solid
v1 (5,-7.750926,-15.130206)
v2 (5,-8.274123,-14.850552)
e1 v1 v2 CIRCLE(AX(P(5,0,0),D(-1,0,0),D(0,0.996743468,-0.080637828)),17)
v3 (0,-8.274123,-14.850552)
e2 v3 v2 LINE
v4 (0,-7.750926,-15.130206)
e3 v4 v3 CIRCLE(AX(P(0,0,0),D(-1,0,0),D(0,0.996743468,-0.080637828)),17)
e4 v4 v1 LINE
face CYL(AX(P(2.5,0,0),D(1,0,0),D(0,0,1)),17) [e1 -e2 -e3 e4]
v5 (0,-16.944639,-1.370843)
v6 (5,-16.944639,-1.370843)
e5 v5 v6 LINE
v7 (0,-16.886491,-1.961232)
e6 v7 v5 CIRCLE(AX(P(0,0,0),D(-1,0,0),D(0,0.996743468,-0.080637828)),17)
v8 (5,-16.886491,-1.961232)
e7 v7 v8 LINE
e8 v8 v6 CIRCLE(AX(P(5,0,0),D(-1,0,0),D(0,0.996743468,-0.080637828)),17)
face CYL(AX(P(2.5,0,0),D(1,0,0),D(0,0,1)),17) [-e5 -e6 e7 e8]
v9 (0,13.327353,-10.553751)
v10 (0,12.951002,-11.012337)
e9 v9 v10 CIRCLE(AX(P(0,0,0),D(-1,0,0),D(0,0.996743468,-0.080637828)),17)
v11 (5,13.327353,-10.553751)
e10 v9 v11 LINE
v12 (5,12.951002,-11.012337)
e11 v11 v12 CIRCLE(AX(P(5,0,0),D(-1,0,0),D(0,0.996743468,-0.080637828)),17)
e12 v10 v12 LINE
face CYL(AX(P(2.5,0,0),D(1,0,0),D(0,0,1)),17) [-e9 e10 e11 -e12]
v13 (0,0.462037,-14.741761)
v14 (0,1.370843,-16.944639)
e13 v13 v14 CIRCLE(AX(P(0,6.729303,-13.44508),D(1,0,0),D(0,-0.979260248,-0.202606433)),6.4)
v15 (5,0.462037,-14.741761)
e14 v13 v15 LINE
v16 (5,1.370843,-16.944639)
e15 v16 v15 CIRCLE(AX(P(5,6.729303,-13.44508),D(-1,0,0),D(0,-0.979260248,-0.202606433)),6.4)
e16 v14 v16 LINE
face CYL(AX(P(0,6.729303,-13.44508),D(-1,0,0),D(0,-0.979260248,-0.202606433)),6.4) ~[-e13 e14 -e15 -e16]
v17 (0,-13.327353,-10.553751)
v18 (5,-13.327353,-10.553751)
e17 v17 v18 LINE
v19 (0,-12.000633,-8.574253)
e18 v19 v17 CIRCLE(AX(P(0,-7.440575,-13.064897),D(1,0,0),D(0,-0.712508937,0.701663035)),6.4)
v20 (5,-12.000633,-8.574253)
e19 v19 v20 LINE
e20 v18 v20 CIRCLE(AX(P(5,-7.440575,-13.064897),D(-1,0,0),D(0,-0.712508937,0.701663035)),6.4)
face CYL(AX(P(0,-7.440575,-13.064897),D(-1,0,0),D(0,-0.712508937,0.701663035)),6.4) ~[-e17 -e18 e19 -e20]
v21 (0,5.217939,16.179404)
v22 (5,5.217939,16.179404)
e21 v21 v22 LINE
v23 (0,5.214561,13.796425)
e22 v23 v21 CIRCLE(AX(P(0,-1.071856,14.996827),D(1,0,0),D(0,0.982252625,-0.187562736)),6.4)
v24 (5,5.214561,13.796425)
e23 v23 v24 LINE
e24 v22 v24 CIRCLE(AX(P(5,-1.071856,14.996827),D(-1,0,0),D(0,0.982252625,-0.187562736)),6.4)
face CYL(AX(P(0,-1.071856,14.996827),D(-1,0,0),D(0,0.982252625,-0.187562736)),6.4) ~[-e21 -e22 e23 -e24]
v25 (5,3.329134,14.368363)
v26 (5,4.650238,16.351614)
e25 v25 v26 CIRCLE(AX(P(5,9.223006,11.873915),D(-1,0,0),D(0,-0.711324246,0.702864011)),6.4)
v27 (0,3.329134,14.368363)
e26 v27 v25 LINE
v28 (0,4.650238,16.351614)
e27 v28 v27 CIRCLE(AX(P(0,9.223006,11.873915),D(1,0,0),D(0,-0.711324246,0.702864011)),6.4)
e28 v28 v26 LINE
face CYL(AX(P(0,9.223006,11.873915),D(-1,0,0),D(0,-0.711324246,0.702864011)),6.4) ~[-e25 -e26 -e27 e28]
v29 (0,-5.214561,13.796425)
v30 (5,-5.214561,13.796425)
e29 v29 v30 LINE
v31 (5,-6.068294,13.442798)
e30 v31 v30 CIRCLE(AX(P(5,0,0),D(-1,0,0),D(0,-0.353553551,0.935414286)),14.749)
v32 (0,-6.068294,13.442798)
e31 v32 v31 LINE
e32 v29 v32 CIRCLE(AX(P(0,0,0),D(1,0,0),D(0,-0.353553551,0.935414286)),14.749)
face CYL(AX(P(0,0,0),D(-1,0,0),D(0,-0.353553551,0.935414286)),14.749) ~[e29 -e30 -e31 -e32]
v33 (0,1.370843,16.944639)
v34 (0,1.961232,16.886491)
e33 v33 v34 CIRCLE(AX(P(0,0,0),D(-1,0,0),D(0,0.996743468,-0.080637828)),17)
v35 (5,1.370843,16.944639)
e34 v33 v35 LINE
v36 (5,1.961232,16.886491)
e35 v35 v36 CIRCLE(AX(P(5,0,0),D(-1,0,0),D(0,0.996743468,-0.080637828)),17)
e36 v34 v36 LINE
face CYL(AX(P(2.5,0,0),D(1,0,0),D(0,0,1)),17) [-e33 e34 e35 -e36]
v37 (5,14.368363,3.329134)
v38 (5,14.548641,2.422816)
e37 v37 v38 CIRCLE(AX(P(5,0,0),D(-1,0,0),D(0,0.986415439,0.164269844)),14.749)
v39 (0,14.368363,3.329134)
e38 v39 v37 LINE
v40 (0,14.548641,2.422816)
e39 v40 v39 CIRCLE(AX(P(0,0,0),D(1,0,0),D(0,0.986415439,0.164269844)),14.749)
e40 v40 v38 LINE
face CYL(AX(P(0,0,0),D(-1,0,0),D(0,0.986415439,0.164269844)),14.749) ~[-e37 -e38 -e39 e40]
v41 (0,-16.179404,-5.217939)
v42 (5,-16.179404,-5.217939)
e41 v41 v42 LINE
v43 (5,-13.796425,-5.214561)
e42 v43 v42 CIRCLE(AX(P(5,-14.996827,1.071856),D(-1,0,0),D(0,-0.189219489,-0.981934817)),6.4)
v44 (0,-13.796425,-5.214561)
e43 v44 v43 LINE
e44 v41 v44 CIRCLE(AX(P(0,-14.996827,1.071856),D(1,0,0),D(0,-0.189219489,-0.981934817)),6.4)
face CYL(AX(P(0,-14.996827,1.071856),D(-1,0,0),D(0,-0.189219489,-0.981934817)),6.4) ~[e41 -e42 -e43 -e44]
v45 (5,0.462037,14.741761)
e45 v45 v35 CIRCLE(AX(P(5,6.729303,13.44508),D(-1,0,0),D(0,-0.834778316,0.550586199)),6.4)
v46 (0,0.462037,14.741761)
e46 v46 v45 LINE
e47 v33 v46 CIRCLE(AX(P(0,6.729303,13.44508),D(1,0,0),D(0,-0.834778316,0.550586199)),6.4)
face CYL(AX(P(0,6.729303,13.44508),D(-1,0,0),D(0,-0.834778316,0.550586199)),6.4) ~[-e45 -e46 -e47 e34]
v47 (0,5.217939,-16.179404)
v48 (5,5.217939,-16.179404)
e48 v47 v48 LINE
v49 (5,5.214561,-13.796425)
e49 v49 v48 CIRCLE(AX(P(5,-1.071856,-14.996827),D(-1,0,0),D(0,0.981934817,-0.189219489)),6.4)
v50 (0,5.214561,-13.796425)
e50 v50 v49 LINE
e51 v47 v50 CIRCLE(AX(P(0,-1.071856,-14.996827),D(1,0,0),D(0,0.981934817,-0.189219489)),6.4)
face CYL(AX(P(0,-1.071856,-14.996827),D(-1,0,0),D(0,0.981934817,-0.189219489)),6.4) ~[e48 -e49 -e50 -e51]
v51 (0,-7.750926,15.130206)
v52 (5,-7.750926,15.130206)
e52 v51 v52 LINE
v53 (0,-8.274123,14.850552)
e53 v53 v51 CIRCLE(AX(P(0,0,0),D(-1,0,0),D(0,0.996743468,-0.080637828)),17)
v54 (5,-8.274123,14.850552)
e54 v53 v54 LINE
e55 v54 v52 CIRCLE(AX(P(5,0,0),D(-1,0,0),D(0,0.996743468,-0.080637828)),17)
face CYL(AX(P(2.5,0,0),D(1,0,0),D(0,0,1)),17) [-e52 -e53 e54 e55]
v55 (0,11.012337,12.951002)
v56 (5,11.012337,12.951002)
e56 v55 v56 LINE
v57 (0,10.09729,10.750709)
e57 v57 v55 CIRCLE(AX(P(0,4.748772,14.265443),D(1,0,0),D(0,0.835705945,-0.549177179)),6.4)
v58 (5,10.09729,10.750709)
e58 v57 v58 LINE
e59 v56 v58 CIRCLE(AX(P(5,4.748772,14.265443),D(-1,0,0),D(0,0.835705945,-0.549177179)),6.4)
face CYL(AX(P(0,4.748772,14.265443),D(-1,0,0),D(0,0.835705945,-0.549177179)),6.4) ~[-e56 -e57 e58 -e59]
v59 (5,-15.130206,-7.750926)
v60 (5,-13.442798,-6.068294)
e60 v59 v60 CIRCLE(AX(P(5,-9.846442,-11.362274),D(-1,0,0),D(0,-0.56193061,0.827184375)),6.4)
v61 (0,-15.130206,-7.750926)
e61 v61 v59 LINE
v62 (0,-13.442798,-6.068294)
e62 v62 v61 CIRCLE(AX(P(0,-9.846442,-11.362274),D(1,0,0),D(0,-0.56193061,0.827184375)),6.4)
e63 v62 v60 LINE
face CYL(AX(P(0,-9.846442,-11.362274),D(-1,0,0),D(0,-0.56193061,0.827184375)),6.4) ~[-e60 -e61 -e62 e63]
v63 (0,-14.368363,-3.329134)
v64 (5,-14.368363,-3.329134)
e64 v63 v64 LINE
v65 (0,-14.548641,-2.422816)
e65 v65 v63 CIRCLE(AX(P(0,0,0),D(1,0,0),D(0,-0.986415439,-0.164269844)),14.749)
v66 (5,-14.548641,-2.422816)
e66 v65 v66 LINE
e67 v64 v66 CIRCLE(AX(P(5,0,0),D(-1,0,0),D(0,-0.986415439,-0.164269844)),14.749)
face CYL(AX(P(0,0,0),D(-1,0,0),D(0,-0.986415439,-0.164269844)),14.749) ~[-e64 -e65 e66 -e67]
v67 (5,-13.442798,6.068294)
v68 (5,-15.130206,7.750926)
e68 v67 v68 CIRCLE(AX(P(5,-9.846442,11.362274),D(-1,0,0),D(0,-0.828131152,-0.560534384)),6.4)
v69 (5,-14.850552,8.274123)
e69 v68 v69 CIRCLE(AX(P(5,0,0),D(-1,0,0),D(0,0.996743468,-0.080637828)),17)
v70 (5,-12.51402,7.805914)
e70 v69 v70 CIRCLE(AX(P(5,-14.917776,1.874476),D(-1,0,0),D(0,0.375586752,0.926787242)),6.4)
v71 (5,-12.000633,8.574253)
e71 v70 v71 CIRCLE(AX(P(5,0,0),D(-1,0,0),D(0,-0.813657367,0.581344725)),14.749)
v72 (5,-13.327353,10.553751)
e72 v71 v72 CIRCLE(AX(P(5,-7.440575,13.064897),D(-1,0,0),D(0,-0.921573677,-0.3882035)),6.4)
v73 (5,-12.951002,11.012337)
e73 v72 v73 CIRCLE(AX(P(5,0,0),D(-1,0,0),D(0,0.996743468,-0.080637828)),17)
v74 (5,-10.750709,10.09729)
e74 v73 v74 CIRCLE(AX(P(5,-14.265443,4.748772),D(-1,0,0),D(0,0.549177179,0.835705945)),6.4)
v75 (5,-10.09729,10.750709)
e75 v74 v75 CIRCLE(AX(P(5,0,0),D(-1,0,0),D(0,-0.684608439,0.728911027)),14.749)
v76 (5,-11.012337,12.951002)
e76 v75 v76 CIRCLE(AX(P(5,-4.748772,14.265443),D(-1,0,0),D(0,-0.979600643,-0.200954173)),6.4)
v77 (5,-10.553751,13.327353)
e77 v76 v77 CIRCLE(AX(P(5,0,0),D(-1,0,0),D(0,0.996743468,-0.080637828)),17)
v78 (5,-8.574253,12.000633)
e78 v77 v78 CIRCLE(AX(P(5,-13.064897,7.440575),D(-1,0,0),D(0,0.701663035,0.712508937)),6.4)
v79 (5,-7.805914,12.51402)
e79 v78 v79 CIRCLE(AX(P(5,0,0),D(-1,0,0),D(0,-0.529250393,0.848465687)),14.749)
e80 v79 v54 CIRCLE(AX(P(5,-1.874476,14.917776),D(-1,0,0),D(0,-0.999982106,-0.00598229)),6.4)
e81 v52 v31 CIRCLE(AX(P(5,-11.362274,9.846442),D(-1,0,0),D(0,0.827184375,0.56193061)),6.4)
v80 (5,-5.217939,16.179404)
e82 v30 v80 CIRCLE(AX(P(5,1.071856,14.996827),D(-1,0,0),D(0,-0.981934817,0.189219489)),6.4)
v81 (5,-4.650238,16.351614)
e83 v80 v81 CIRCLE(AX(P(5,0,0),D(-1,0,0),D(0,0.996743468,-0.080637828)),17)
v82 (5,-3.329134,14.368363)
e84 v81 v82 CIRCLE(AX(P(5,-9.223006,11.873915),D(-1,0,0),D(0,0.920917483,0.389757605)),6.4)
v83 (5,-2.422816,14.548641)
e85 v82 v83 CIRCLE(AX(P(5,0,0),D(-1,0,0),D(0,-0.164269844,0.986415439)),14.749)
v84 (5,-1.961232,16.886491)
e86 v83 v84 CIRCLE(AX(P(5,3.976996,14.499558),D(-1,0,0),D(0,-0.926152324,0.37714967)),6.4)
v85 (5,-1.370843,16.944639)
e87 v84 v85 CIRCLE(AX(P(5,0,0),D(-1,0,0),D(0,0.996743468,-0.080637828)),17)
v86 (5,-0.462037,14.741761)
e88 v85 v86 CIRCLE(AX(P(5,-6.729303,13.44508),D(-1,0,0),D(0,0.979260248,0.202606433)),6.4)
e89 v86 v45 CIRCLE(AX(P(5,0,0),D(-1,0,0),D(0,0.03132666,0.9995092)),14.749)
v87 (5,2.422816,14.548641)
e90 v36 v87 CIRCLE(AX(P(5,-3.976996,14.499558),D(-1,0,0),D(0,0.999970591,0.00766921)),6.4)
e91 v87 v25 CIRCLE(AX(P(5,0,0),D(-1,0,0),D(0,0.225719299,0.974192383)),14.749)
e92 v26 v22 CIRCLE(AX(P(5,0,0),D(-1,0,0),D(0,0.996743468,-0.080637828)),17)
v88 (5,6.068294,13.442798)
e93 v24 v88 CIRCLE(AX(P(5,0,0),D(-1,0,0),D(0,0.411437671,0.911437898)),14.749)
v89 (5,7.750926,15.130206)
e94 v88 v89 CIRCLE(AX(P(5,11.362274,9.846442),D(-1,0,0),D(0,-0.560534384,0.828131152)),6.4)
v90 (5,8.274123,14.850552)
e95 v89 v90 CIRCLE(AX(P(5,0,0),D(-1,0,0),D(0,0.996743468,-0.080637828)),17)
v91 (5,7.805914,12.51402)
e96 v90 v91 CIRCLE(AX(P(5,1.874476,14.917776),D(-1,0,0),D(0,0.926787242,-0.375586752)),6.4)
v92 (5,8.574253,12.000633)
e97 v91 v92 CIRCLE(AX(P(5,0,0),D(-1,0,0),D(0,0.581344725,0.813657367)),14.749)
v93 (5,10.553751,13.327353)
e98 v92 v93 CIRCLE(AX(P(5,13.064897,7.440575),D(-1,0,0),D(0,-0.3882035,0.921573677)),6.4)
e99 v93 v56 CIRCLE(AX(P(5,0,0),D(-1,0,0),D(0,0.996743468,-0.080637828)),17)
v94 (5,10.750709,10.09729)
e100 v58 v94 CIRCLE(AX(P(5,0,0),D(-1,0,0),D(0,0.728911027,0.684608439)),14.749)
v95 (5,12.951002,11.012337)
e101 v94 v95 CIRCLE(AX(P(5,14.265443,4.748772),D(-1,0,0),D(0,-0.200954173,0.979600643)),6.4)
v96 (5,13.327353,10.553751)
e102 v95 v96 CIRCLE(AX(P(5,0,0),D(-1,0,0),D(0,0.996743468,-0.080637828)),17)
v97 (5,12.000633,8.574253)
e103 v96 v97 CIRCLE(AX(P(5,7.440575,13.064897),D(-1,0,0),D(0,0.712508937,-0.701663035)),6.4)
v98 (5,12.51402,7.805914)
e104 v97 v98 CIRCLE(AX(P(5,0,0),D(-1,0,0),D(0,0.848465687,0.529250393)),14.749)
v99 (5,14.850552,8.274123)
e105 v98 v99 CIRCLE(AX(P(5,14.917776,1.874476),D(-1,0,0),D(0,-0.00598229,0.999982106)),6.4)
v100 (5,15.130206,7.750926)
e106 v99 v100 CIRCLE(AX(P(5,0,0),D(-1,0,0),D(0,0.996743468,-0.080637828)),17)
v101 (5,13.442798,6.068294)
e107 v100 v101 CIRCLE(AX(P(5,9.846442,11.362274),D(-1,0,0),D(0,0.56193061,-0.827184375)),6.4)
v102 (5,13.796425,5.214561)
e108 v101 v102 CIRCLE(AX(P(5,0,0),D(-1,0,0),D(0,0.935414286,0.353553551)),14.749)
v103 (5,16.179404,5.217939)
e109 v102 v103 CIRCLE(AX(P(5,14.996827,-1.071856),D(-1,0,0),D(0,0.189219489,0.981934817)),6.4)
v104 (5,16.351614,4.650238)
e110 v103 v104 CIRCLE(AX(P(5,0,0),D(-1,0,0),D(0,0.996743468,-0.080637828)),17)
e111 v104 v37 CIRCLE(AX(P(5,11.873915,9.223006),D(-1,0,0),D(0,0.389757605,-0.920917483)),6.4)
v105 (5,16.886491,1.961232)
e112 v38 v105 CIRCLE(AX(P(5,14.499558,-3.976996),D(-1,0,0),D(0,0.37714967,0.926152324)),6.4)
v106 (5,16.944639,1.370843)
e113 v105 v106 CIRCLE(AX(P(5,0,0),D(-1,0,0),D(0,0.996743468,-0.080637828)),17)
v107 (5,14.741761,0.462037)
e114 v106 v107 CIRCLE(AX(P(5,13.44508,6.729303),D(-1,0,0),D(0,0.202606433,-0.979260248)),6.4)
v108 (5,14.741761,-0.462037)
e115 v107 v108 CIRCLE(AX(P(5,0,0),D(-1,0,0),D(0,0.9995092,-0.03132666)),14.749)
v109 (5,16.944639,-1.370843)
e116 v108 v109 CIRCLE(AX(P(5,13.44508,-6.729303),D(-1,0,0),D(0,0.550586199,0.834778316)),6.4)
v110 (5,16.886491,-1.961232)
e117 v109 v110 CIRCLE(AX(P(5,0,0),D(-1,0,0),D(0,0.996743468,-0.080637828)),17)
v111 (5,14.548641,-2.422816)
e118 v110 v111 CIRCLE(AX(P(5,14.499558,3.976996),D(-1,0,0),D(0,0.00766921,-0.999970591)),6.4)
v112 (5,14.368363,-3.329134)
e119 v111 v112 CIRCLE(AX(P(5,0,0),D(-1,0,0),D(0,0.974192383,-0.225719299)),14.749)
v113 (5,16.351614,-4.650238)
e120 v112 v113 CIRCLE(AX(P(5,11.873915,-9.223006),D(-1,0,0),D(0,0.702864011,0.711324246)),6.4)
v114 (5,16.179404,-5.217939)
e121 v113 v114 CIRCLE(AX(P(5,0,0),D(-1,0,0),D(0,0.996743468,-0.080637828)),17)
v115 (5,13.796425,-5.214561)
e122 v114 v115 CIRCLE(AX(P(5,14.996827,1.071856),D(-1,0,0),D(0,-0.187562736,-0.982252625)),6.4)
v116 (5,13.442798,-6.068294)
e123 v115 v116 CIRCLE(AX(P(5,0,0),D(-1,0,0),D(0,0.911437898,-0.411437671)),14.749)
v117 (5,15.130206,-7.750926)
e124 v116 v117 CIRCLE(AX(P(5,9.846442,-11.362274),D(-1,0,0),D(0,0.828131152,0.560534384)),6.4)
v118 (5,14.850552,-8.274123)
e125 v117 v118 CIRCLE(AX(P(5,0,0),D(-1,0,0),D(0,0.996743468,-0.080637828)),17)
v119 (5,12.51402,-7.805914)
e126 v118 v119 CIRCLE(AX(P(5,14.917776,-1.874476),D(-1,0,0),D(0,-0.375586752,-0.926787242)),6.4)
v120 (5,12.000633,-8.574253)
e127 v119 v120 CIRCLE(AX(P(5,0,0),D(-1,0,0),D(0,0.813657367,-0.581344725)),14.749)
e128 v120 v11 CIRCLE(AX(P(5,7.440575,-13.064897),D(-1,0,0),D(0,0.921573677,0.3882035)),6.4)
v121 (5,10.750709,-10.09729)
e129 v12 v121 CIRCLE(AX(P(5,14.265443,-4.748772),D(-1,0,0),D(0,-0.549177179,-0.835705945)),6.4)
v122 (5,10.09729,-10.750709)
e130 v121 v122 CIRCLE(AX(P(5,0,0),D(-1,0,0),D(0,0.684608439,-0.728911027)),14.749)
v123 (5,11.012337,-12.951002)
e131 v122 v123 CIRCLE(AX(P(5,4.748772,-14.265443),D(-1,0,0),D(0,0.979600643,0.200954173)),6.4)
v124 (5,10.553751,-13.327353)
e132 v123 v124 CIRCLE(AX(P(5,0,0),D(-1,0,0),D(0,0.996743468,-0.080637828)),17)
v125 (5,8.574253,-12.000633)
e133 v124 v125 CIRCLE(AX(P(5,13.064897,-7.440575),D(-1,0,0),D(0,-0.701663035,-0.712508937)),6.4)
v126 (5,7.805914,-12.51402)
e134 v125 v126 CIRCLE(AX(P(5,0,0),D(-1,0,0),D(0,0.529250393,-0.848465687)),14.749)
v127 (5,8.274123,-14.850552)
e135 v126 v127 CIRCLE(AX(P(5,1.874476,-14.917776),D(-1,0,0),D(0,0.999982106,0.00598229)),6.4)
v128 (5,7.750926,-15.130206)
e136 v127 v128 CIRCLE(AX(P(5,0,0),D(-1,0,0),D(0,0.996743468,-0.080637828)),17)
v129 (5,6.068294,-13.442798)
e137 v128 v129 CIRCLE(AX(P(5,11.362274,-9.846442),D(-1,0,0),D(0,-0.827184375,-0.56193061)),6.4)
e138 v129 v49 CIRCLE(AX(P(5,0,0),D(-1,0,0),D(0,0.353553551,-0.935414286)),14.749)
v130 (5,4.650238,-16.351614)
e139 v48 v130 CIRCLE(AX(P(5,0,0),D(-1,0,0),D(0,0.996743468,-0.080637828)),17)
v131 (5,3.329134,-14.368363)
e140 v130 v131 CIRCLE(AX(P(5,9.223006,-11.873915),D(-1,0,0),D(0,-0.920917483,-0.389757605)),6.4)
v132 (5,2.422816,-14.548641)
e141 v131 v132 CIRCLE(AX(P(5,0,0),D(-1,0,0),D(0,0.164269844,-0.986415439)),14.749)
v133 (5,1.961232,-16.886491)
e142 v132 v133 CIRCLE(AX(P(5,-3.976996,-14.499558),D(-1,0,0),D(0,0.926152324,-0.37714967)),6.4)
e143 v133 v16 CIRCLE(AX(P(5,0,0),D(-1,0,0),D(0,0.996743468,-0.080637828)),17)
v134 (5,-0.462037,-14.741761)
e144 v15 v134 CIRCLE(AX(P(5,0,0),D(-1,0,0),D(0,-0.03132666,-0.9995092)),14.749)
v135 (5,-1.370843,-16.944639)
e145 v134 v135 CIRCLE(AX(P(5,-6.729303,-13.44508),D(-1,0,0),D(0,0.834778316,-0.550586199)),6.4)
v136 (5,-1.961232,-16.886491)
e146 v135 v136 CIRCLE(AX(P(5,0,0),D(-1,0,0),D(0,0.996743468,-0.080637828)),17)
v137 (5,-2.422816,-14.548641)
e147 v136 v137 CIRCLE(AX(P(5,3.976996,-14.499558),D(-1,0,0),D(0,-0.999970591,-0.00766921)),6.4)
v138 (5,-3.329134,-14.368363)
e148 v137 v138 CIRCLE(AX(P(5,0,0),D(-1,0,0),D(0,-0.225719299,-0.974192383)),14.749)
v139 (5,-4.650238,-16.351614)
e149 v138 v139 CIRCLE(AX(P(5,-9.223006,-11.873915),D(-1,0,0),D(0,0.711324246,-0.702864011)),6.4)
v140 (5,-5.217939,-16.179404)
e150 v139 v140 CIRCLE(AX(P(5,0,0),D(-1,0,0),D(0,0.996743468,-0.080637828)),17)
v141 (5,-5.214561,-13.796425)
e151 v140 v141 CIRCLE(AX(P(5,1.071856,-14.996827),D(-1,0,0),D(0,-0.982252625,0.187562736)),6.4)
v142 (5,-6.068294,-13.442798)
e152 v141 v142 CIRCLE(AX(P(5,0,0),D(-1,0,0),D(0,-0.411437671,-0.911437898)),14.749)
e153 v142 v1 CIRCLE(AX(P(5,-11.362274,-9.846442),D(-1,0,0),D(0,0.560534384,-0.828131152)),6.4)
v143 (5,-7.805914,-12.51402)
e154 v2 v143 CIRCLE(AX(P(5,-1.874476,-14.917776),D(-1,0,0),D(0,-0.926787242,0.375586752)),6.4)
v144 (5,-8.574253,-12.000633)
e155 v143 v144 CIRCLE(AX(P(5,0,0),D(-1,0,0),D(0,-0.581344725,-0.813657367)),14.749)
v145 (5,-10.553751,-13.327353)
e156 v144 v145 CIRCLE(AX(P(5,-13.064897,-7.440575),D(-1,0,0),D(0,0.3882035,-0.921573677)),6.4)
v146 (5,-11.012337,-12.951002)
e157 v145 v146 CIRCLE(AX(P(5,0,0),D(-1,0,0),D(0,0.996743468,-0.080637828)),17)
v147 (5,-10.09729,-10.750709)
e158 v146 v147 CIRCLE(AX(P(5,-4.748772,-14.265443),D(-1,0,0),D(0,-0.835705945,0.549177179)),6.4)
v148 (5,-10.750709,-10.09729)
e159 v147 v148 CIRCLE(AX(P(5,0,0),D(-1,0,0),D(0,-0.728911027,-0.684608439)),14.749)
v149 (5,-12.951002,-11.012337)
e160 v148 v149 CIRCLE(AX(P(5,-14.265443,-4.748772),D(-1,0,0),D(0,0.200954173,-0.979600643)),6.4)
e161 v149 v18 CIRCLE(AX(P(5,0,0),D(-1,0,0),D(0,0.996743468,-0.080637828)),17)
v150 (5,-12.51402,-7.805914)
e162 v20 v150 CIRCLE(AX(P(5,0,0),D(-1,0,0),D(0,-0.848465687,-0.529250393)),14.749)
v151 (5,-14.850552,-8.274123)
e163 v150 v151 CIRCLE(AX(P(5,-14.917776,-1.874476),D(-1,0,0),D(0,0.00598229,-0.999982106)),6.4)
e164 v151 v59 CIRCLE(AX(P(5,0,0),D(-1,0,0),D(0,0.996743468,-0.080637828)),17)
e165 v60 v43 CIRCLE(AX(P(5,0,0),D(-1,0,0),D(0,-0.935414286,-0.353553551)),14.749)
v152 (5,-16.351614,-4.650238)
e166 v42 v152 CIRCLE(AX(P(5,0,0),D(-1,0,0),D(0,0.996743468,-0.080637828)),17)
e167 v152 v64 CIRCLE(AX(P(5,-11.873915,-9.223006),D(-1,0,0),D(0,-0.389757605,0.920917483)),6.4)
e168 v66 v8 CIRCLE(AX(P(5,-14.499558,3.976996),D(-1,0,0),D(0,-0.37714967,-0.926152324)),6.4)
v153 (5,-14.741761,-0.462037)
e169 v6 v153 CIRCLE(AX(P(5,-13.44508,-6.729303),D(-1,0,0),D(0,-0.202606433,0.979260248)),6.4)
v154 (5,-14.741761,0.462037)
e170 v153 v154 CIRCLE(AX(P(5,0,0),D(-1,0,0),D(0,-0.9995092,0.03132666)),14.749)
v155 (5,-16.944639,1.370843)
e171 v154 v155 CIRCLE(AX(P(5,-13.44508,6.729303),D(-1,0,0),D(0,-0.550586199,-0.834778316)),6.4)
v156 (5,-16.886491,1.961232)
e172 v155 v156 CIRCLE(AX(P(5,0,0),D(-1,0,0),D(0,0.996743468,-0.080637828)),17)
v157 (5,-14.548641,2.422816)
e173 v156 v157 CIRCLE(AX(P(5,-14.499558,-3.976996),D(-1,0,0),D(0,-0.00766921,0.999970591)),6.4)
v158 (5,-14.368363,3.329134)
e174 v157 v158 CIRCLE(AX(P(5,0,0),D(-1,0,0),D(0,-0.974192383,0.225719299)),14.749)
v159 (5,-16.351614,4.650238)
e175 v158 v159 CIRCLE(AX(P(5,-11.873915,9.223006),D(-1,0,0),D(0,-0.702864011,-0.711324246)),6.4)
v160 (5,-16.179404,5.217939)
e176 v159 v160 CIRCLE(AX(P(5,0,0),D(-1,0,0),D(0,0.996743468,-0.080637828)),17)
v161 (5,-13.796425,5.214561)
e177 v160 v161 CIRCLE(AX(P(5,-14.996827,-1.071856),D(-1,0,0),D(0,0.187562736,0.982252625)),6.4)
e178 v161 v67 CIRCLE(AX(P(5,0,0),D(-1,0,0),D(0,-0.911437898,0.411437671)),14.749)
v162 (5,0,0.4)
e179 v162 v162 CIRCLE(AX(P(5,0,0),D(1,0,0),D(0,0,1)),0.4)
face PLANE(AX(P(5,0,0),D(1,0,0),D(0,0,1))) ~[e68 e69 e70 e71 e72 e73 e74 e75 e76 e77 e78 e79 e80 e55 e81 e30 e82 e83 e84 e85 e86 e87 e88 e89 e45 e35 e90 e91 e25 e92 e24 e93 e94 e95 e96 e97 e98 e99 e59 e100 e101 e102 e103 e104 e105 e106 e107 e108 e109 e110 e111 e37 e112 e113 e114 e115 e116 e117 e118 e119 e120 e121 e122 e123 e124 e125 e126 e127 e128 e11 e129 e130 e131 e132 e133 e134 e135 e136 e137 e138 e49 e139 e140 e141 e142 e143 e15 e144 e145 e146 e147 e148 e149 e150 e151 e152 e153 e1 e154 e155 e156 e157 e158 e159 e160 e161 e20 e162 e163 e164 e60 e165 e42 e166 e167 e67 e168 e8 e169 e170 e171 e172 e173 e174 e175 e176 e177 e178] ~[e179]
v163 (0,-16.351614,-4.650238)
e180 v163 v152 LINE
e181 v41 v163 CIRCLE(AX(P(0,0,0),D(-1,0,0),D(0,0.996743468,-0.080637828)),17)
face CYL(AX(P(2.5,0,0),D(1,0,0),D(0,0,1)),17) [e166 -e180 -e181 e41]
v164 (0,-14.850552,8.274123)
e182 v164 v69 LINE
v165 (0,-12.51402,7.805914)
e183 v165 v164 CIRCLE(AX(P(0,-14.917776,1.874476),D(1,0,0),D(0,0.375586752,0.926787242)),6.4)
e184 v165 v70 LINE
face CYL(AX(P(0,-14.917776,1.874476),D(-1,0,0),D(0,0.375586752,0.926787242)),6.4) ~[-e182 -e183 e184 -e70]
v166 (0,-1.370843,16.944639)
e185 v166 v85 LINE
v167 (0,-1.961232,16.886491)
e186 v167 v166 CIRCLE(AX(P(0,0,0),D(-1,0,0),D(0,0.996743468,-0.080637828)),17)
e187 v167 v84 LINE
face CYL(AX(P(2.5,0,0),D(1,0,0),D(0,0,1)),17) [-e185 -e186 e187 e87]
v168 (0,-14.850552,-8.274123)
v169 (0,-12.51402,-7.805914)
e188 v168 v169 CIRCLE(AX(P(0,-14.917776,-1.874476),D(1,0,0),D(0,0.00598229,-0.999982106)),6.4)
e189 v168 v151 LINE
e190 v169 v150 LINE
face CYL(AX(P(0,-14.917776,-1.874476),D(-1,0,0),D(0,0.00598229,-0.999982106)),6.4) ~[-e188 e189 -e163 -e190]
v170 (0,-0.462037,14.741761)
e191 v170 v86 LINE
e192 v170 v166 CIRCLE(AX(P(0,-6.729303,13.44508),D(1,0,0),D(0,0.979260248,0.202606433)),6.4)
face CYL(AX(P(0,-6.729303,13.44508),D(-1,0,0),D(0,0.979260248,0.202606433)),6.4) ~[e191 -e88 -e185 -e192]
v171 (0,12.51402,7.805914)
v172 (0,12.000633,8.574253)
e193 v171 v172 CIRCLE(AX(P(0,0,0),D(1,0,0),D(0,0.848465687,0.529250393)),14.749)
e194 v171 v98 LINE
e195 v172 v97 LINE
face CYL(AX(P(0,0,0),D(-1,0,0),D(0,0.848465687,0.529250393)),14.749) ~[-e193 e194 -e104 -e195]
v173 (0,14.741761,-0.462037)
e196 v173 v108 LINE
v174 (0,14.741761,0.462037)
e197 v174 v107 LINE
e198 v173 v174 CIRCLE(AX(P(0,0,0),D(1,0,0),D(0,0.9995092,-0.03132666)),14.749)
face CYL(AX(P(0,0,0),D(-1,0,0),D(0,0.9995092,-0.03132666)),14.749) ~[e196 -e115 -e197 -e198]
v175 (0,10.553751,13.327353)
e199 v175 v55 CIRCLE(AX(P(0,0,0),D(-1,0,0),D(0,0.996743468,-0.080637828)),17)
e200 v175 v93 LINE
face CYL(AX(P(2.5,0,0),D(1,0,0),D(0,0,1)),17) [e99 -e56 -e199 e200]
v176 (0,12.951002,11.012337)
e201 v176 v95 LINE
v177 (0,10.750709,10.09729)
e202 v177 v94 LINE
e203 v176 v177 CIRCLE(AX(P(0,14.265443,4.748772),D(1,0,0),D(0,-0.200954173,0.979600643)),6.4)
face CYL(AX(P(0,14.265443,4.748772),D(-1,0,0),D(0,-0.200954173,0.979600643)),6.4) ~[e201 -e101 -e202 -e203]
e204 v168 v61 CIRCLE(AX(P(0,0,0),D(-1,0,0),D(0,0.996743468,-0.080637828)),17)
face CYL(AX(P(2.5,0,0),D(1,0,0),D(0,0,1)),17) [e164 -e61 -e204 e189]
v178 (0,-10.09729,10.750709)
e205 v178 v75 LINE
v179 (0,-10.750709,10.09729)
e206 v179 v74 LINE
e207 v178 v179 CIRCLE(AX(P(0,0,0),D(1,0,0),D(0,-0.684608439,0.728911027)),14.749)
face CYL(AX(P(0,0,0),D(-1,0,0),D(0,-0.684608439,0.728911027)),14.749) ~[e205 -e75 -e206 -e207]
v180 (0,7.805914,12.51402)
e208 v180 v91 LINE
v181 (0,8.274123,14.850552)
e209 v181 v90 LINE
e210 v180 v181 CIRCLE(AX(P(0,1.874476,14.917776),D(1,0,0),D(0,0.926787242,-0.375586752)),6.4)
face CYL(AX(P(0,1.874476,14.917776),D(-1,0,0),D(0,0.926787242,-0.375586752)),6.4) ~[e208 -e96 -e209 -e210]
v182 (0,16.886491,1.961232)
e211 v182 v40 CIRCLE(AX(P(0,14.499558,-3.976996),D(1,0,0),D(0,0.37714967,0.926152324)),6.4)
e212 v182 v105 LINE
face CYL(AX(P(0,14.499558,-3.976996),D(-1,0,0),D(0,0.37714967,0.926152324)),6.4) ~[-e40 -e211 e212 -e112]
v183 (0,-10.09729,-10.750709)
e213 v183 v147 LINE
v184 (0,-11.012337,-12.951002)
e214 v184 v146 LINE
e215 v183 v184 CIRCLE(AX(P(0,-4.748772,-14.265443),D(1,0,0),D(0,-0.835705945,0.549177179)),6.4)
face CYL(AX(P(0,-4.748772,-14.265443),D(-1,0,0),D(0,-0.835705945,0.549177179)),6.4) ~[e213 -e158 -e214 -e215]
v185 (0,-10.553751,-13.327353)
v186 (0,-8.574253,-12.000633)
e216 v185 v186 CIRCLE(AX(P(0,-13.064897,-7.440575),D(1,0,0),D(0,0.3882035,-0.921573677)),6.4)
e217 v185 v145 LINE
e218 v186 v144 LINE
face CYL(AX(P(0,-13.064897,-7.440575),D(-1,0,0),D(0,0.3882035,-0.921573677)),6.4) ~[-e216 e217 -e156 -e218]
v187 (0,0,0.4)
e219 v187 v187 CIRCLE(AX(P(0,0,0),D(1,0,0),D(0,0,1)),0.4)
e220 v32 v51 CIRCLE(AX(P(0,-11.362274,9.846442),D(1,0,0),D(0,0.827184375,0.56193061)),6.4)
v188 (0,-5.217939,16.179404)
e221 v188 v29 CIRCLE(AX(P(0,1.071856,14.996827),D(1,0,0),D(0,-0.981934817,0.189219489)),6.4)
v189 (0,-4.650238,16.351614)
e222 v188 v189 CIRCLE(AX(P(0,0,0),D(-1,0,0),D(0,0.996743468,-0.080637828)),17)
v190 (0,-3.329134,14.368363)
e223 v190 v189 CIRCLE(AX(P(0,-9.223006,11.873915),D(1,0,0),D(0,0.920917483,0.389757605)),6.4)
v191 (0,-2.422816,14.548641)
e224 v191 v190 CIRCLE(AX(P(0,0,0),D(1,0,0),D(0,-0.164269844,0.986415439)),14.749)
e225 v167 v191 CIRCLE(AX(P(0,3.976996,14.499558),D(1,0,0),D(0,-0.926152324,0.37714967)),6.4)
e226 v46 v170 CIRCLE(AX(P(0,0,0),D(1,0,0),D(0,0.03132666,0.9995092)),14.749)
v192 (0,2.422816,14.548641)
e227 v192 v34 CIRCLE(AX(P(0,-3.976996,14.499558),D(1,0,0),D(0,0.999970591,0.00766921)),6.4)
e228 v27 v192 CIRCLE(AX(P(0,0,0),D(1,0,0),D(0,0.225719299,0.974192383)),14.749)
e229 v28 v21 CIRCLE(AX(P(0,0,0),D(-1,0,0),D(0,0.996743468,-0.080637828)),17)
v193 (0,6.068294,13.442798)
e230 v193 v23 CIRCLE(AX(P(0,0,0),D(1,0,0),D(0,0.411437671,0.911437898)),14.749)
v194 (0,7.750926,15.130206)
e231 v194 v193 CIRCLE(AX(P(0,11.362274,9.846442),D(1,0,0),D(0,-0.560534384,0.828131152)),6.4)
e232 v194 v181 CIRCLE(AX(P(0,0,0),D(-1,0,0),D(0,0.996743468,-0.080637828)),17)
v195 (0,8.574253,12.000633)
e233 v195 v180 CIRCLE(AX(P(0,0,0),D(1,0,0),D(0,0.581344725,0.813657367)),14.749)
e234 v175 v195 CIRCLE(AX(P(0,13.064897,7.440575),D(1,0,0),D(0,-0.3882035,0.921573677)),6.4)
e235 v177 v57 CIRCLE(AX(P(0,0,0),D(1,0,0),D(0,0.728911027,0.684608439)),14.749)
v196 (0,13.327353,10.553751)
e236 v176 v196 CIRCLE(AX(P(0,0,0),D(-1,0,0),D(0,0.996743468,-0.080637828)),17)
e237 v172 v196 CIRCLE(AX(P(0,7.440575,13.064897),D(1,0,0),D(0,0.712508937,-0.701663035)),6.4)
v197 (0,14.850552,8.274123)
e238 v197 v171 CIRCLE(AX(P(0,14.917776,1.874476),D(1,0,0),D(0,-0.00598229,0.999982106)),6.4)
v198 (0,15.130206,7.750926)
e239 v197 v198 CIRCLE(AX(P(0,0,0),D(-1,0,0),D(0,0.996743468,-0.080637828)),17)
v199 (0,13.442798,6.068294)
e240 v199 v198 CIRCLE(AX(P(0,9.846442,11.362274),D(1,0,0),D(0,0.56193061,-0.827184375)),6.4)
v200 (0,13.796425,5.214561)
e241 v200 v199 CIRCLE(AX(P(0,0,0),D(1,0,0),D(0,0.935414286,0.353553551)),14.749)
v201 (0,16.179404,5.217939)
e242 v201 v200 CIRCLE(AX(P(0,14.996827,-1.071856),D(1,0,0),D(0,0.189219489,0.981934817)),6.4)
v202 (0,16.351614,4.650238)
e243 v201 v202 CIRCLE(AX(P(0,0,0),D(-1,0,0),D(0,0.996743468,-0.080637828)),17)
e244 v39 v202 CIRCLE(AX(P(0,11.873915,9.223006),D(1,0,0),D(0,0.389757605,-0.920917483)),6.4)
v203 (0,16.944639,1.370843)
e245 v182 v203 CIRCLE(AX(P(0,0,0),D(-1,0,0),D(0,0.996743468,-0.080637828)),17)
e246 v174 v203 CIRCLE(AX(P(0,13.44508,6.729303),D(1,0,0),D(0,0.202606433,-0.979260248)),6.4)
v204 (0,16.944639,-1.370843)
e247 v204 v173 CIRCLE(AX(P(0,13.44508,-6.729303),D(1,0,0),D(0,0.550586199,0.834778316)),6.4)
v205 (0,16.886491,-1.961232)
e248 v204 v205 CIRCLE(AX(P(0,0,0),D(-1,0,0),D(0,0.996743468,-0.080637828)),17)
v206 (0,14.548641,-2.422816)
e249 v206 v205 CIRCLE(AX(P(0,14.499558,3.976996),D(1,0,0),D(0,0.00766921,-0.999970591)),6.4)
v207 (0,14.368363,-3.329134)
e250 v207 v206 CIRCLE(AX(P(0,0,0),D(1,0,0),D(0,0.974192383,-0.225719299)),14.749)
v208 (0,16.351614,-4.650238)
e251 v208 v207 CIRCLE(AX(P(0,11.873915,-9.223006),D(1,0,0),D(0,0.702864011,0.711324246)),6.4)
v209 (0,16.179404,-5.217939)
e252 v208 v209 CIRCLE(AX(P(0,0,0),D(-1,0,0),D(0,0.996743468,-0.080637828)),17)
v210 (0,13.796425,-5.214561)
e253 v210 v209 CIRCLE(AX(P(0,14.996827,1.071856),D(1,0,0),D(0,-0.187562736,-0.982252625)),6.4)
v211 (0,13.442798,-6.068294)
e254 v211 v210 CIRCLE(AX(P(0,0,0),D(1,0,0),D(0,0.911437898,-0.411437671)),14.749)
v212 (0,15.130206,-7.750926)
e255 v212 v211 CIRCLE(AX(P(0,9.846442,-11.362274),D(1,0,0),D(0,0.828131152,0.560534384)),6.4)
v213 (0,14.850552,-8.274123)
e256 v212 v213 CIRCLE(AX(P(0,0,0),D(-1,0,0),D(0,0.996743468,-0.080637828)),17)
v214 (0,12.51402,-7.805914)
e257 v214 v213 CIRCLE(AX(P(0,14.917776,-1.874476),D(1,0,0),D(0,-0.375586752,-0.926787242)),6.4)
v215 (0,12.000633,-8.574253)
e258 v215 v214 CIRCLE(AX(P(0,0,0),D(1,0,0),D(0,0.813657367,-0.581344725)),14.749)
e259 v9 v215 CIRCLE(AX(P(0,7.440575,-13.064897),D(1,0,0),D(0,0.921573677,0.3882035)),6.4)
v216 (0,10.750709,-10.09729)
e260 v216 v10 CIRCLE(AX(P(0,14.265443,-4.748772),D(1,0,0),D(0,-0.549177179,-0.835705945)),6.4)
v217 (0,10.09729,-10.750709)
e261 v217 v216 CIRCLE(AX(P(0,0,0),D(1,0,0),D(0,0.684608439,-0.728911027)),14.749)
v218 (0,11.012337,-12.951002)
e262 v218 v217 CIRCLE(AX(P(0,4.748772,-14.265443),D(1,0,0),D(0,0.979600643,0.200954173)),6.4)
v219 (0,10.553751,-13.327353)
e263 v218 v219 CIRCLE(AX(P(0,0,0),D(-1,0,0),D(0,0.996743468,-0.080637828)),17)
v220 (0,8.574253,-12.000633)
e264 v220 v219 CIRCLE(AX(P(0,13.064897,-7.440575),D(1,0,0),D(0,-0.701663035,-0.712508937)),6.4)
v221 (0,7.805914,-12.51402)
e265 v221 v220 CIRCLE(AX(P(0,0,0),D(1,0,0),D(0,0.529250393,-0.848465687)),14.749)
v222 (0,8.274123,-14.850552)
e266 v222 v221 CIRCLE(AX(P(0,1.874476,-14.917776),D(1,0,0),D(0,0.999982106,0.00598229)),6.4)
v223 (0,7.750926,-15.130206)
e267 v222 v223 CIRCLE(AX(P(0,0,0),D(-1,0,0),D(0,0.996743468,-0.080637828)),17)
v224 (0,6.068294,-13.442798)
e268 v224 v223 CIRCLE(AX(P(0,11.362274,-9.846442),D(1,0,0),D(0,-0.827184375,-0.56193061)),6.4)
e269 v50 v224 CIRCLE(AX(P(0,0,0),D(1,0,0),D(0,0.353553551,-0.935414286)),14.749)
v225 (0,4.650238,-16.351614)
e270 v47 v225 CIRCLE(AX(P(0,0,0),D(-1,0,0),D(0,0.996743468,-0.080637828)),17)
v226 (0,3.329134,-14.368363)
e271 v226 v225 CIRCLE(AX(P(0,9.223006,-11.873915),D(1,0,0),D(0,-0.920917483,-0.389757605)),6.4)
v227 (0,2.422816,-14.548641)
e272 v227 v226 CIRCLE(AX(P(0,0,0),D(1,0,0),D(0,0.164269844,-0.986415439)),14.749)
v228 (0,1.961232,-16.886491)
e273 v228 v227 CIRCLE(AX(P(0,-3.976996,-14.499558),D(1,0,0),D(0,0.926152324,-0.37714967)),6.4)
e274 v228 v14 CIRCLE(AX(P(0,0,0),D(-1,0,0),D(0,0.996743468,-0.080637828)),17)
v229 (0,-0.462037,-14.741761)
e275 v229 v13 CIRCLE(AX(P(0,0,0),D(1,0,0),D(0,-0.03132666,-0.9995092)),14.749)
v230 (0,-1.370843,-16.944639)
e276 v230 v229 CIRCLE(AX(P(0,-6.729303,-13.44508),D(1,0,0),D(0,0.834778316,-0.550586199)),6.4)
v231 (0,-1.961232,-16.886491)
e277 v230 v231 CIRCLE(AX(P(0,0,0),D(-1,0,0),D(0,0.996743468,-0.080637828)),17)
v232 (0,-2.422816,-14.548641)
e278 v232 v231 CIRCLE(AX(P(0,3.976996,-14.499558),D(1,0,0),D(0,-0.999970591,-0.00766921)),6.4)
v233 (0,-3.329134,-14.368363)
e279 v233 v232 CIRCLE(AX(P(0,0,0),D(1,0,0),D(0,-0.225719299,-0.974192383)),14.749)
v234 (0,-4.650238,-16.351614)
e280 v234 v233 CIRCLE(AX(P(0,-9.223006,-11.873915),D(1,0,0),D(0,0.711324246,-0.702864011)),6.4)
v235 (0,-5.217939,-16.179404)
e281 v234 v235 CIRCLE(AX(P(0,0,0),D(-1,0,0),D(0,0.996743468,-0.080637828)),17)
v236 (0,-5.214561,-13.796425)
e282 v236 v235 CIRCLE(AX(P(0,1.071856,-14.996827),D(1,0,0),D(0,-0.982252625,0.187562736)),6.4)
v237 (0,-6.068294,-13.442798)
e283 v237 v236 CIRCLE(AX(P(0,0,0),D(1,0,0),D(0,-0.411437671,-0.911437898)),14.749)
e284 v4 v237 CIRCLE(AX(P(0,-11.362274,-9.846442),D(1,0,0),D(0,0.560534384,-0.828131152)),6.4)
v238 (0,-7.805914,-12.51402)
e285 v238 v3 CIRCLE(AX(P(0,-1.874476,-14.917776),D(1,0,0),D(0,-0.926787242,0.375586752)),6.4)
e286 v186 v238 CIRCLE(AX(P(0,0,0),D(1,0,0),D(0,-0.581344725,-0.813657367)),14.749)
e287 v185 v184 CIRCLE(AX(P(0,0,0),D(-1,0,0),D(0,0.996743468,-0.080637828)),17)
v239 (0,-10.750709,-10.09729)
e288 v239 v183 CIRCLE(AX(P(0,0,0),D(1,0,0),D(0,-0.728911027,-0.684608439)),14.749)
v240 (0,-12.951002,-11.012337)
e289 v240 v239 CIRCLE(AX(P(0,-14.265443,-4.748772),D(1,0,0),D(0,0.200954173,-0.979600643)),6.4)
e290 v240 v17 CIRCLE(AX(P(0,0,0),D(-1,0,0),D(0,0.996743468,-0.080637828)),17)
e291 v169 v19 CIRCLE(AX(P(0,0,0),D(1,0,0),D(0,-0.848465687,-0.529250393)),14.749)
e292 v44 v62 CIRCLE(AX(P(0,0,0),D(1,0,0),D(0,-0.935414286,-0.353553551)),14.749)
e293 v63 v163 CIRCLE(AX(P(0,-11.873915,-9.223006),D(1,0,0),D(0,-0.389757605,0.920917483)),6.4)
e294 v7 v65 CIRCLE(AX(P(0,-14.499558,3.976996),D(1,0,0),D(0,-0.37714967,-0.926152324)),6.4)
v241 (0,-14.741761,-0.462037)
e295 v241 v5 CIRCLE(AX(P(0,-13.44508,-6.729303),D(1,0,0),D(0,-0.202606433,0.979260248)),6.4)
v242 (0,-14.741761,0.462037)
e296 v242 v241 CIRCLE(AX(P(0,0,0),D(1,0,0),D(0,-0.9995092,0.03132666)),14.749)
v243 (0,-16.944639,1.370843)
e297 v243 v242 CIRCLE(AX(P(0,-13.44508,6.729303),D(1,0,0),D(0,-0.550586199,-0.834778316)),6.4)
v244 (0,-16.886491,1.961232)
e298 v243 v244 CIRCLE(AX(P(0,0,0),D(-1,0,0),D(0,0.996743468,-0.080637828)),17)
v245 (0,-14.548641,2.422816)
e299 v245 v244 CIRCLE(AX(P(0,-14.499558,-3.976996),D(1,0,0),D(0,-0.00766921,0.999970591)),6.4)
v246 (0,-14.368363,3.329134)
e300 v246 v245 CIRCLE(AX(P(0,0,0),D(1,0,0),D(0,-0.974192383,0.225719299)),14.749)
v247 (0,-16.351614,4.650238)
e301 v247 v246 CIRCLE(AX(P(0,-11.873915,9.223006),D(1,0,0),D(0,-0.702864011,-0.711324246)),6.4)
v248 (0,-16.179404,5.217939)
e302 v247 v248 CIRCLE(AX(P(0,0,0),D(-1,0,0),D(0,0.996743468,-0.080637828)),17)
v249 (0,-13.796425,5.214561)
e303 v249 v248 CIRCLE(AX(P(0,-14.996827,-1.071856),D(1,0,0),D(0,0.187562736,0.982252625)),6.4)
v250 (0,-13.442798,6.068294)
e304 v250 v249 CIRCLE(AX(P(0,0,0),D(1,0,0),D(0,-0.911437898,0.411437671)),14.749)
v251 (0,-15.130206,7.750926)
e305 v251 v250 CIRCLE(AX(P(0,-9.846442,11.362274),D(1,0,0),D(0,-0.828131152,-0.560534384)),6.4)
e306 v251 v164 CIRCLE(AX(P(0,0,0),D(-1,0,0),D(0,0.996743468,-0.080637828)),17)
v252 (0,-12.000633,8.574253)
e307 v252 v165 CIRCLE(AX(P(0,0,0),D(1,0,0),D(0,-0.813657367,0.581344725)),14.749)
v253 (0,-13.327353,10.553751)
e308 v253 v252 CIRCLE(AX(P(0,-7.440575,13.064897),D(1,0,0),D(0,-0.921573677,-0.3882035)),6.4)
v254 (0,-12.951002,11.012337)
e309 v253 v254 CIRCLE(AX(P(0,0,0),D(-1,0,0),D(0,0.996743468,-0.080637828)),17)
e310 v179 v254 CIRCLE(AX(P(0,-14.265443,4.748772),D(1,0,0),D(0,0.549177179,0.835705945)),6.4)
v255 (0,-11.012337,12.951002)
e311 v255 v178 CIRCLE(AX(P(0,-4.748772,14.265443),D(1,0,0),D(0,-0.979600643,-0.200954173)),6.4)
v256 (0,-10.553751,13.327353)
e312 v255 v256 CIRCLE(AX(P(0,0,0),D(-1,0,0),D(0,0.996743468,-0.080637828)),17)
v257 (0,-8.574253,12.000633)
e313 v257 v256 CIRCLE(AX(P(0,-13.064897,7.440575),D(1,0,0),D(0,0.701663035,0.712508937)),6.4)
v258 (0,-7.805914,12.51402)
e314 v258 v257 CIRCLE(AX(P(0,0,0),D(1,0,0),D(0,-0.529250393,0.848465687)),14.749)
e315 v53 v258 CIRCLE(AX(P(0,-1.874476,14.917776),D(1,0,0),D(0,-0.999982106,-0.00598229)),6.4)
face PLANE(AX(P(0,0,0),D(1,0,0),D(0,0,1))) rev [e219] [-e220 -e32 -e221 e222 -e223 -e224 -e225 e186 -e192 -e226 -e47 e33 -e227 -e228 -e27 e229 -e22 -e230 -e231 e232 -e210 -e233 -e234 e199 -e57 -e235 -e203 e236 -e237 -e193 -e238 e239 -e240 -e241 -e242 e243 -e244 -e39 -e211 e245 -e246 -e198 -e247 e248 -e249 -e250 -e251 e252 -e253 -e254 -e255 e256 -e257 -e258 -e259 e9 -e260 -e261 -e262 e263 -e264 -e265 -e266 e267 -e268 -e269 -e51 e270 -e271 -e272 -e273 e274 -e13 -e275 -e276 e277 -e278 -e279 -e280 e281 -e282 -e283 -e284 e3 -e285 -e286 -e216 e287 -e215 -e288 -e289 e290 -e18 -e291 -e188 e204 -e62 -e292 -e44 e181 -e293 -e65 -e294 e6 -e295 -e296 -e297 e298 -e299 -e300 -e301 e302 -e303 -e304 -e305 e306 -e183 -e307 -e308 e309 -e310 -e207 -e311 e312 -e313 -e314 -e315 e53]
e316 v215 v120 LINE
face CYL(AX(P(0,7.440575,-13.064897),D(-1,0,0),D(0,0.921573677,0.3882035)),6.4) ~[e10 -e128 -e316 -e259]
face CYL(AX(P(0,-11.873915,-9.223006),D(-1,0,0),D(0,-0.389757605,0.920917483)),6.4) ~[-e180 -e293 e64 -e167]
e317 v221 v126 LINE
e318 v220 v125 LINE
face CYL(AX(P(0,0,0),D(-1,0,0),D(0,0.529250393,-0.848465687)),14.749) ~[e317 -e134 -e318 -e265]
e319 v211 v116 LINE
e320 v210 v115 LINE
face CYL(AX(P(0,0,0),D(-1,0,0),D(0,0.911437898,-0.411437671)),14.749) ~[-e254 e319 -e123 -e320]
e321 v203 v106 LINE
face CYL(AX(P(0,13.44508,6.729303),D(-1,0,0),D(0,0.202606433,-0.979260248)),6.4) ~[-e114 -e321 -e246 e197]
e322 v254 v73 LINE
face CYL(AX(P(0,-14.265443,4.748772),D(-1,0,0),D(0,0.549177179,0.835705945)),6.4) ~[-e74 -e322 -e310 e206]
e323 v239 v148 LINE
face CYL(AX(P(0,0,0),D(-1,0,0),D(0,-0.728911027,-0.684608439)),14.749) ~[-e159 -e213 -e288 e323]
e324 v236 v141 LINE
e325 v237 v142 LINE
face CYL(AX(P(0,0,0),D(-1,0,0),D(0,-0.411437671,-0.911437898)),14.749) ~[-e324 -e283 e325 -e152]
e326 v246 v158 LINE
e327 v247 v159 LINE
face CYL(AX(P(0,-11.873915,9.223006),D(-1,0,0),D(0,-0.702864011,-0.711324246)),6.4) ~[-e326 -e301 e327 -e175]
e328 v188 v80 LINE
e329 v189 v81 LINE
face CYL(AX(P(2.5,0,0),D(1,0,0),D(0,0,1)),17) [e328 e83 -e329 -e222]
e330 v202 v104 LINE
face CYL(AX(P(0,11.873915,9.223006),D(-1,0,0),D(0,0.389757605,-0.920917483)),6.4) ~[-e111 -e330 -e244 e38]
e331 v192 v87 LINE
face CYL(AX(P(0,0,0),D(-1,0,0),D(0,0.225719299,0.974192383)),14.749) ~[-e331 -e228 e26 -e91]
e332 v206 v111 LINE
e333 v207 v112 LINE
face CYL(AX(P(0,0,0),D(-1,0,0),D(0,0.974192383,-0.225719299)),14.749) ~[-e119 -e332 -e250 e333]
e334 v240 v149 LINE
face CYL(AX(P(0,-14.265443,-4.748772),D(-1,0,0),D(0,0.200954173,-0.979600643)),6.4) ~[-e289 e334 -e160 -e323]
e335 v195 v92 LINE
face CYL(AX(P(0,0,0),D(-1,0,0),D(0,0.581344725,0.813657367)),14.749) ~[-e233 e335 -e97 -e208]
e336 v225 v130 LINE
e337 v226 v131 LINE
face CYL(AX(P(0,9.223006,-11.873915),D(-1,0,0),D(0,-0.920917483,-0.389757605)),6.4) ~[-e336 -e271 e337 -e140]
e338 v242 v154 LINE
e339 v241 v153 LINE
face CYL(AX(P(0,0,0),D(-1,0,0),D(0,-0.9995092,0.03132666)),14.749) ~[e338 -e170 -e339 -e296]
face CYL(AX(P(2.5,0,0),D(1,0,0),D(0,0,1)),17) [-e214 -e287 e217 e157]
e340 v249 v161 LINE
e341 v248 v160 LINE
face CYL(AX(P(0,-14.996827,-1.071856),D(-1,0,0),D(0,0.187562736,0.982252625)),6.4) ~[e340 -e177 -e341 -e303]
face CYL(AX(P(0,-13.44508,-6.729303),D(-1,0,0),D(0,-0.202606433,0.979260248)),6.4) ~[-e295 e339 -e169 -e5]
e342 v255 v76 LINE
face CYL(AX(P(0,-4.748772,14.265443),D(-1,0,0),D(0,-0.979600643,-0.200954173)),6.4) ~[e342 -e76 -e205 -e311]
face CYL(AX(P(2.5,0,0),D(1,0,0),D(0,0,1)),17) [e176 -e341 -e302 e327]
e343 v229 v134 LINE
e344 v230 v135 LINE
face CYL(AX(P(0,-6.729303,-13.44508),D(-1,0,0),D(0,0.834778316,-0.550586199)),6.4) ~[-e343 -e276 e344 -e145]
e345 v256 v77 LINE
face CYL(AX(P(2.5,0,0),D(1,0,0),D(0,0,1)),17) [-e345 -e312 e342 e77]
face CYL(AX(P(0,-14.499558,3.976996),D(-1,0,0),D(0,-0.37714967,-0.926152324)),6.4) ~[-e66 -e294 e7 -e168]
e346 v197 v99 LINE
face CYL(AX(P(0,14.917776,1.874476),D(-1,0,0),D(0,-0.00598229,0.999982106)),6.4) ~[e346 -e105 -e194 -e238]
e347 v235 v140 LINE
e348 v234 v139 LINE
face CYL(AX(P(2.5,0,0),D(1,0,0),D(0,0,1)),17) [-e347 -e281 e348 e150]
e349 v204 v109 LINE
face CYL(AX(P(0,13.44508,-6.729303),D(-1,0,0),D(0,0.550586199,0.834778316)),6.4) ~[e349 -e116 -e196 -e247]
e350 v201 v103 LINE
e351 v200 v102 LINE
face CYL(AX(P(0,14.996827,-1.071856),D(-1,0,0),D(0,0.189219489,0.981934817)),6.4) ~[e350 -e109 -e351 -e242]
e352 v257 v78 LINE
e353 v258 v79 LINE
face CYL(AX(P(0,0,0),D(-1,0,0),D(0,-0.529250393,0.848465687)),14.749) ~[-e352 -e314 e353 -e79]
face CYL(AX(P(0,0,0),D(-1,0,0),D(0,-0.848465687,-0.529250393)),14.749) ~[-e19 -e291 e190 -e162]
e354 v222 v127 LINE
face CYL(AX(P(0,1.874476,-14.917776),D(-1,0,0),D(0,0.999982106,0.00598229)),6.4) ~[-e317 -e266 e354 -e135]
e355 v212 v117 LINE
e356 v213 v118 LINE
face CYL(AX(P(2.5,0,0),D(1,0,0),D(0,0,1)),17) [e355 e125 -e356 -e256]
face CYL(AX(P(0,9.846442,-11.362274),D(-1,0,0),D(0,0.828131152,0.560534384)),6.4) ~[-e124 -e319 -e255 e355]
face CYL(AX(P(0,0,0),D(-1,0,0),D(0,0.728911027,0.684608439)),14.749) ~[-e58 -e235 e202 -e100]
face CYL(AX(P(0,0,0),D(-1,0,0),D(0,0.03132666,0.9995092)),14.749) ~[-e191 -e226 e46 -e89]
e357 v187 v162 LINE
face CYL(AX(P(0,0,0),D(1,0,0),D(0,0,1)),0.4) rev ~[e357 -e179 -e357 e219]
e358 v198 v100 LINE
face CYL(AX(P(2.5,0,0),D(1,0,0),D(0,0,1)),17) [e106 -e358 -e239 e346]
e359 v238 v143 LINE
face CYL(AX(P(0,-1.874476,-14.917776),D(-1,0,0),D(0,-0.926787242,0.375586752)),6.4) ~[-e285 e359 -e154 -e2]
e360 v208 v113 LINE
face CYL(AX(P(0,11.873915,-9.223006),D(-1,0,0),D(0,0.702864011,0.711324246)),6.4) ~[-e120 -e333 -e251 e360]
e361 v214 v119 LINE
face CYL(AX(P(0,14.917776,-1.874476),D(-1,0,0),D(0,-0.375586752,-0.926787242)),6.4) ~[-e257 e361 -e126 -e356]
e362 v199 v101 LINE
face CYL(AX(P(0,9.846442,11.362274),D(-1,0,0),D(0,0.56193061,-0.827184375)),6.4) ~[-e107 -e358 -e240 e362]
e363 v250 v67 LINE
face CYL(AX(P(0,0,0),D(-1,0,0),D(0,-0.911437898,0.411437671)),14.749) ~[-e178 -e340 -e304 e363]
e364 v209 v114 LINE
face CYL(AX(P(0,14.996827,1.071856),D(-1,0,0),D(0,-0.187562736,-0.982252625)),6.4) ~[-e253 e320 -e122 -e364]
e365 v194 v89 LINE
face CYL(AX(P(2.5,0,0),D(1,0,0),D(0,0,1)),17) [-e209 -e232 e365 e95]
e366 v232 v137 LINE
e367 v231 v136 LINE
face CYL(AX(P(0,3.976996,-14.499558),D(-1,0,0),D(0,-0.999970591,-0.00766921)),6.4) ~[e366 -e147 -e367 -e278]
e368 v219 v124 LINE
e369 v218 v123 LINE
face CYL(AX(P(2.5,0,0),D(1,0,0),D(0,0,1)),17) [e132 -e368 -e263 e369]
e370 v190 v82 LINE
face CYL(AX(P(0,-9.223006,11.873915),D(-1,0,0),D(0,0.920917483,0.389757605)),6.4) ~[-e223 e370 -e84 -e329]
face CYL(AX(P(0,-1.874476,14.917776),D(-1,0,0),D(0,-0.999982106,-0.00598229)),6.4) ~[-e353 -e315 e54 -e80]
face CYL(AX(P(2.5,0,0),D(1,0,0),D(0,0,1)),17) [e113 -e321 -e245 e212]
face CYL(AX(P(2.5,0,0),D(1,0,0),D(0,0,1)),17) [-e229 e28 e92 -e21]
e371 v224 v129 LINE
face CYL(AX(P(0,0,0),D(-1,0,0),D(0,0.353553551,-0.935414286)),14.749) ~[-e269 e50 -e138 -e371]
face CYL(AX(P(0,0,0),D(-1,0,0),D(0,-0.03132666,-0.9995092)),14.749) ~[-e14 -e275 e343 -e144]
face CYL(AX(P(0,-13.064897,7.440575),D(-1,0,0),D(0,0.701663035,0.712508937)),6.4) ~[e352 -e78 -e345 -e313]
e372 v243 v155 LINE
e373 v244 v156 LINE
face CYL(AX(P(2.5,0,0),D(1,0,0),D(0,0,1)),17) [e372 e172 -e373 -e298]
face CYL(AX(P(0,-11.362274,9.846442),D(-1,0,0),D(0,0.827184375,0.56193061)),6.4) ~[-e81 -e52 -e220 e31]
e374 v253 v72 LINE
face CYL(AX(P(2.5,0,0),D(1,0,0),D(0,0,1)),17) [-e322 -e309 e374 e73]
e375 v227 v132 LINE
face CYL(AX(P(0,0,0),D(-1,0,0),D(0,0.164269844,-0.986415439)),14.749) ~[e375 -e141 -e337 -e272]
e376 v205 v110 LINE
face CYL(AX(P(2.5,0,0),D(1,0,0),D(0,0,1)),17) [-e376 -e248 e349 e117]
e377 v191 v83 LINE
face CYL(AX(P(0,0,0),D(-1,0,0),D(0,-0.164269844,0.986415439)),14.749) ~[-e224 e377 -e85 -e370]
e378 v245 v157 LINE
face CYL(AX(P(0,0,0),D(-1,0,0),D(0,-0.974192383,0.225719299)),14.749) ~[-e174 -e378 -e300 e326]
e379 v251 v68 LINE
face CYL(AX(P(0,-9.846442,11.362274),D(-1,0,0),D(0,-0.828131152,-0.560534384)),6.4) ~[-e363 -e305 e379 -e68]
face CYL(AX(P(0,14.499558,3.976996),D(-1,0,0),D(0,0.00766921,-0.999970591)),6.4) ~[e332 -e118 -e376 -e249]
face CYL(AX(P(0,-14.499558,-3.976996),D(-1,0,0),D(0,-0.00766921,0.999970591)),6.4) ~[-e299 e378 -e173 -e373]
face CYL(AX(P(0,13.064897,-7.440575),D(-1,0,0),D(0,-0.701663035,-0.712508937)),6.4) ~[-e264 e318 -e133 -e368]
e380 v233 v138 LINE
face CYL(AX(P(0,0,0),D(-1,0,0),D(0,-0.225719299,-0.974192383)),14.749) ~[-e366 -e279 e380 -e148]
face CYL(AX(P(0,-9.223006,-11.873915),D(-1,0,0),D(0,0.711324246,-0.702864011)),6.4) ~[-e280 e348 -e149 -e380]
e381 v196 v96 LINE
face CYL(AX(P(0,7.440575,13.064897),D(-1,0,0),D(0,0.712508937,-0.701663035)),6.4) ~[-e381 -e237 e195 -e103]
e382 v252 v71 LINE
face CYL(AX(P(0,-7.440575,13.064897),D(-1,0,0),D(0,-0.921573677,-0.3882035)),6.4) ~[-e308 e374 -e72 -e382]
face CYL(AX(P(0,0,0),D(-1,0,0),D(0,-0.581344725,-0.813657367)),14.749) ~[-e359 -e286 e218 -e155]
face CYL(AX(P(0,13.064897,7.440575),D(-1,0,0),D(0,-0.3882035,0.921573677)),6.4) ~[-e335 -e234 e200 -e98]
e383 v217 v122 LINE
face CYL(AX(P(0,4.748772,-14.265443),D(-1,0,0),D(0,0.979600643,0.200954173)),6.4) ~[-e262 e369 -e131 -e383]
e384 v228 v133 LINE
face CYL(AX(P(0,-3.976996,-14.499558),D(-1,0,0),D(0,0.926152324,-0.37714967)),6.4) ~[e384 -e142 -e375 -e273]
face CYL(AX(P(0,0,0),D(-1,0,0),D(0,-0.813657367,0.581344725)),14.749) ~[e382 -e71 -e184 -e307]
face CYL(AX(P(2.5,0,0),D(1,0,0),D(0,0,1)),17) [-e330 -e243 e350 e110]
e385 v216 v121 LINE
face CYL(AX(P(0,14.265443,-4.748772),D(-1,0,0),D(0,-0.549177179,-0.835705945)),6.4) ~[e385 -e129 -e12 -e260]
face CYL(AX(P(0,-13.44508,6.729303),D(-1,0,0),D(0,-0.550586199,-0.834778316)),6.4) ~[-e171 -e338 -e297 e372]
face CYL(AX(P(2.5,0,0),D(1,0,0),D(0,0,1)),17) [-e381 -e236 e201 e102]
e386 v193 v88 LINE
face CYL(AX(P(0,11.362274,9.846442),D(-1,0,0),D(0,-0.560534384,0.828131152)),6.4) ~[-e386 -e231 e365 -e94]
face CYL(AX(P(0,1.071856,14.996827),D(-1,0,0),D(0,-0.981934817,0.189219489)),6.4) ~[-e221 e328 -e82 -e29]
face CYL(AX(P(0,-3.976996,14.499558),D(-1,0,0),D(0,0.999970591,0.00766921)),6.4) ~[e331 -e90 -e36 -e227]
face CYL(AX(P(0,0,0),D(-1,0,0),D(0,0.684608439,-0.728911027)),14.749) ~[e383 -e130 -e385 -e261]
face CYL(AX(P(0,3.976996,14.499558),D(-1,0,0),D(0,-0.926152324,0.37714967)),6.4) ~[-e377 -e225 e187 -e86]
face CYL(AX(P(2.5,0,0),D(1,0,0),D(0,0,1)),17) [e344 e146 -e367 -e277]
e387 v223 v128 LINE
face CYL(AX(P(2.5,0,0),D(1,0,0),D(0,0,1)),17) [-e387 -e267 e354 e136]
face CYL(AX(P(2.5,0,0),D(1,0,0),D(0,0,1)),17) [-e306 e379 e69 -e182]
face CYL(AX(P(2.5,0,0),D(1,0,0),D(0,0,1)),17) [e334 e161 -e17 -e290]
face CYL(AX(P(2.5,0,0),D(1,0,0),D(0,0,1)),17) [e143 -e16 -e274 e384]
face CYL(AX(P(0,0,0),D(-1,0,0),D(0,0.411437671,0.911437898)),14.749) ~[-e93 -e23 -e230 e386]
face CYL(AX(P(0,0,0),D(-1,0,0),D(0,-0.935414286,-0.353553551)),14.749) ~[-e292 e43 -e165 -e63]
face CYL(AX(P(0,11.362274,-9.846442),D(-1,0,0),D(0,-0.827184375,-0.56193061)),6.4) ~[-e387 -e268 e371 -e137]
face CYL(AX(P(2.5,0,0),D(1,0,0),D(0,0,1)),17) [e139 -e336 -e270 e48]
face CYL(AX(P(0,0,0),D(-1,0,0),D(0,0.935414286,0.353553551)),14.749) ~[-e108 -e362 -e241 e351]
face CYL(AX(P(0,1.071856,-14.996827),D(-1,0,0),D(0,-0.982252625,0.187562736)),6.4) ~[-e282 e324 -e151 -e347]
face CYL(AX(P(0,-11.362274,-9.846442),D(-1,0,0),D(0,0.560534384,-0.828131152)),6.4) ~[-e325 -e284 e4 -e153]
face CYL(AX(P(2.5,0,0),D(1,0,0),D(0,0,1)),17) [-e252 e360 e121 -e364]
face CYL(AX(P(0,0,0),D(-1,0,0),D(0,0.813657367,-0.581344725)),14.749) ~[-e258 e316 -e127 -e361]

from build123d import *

# Parameters (mm, degrees)
BASPROSKE_W     = 5
BASPROSKE_H     = 17
TOOTHCUT_DEPTH  = 25.556058316
TEETHCUTS_COUNT = 32
TEETHCUTS_ANGLE = 348.75
BORSKE_R        = 0.4
BORE_DEPTH      = 50.0000508


with BuildPart() as part:
    # BasProSke → Base-Revolve (revolve)
    with BuildSketch(Plane(origin=(0, 0, 0), x_dir=(1, 0, 0), z_dir=(0, 1, 0)), mode=Mode.PRIVATE) as base_revolve_sk:
        with Locations((2.5, 8.5)):
            Rectangle(BASPROSKE_W, BASPROSKE_H)
    revolve(base_revolve_sk.sketch.rotate(Axis((-10, 0, 0), (1, 0, 0)), 180), axis=Axis((-10, 0, 0), (1, 0, 0)))

    # TooCutSke → ToothCut (cut, through all)
    with BuildSketch(Plane(origin=(0, 0, 0), x_dir=(0, 0, -1), z_dir=(1, 0, 0))):
        with BuildLine():
            ThreePointArc((0.462036907, 14.741761187), (0, 14.749), (-0.462036907, 14.741761187))
            ThreePointArc((-0.462036907, 14.741761187), (-0.81854142, 15.899240468), (-1.386721275, 16.9688317))
            ThreePointArc((-1.386721275, 16.9688317), (0, 17.0254), (1.386721275, 16.9688317))
            ThreePointArc((1.386721275, 16.9688317), (0.81854142, 15.899240468), (0.462036907, 14.741761187))
        make_face()
    toothcut = extrude(amount=TOOTHCUT_DEPTH, mode=Mode.SUBTRACT)

    # TeethCuts: ToothCut ×32 about axis
    teethcuts_axis = Axis((-10, 0, 0), (1, 0, 0))
    for i in range(1, TEETHCUTS_COUNT):
        add(toothcut.rotate(teethcuts_axis, i * TEETHCUTS_ANGLE / (TEETHCUTS_COUNT - 1)), mode=Mode.SUBTRACT)

    # BorSke → Bore (cut, symmetric)
    with BuildSketch(Plane(origin=(0, 0, 0), x_dir=(0, 0, -1), z_dir=(1, 0, 0))):
        with Locations(Location((0, 0, 0), (0, 0, 180))):
            Circle(BORSKE_R)
    extrude(amount=BORE_DEPTH, both=True, mode=Mode.SUBTRACT)


solid = part.part
